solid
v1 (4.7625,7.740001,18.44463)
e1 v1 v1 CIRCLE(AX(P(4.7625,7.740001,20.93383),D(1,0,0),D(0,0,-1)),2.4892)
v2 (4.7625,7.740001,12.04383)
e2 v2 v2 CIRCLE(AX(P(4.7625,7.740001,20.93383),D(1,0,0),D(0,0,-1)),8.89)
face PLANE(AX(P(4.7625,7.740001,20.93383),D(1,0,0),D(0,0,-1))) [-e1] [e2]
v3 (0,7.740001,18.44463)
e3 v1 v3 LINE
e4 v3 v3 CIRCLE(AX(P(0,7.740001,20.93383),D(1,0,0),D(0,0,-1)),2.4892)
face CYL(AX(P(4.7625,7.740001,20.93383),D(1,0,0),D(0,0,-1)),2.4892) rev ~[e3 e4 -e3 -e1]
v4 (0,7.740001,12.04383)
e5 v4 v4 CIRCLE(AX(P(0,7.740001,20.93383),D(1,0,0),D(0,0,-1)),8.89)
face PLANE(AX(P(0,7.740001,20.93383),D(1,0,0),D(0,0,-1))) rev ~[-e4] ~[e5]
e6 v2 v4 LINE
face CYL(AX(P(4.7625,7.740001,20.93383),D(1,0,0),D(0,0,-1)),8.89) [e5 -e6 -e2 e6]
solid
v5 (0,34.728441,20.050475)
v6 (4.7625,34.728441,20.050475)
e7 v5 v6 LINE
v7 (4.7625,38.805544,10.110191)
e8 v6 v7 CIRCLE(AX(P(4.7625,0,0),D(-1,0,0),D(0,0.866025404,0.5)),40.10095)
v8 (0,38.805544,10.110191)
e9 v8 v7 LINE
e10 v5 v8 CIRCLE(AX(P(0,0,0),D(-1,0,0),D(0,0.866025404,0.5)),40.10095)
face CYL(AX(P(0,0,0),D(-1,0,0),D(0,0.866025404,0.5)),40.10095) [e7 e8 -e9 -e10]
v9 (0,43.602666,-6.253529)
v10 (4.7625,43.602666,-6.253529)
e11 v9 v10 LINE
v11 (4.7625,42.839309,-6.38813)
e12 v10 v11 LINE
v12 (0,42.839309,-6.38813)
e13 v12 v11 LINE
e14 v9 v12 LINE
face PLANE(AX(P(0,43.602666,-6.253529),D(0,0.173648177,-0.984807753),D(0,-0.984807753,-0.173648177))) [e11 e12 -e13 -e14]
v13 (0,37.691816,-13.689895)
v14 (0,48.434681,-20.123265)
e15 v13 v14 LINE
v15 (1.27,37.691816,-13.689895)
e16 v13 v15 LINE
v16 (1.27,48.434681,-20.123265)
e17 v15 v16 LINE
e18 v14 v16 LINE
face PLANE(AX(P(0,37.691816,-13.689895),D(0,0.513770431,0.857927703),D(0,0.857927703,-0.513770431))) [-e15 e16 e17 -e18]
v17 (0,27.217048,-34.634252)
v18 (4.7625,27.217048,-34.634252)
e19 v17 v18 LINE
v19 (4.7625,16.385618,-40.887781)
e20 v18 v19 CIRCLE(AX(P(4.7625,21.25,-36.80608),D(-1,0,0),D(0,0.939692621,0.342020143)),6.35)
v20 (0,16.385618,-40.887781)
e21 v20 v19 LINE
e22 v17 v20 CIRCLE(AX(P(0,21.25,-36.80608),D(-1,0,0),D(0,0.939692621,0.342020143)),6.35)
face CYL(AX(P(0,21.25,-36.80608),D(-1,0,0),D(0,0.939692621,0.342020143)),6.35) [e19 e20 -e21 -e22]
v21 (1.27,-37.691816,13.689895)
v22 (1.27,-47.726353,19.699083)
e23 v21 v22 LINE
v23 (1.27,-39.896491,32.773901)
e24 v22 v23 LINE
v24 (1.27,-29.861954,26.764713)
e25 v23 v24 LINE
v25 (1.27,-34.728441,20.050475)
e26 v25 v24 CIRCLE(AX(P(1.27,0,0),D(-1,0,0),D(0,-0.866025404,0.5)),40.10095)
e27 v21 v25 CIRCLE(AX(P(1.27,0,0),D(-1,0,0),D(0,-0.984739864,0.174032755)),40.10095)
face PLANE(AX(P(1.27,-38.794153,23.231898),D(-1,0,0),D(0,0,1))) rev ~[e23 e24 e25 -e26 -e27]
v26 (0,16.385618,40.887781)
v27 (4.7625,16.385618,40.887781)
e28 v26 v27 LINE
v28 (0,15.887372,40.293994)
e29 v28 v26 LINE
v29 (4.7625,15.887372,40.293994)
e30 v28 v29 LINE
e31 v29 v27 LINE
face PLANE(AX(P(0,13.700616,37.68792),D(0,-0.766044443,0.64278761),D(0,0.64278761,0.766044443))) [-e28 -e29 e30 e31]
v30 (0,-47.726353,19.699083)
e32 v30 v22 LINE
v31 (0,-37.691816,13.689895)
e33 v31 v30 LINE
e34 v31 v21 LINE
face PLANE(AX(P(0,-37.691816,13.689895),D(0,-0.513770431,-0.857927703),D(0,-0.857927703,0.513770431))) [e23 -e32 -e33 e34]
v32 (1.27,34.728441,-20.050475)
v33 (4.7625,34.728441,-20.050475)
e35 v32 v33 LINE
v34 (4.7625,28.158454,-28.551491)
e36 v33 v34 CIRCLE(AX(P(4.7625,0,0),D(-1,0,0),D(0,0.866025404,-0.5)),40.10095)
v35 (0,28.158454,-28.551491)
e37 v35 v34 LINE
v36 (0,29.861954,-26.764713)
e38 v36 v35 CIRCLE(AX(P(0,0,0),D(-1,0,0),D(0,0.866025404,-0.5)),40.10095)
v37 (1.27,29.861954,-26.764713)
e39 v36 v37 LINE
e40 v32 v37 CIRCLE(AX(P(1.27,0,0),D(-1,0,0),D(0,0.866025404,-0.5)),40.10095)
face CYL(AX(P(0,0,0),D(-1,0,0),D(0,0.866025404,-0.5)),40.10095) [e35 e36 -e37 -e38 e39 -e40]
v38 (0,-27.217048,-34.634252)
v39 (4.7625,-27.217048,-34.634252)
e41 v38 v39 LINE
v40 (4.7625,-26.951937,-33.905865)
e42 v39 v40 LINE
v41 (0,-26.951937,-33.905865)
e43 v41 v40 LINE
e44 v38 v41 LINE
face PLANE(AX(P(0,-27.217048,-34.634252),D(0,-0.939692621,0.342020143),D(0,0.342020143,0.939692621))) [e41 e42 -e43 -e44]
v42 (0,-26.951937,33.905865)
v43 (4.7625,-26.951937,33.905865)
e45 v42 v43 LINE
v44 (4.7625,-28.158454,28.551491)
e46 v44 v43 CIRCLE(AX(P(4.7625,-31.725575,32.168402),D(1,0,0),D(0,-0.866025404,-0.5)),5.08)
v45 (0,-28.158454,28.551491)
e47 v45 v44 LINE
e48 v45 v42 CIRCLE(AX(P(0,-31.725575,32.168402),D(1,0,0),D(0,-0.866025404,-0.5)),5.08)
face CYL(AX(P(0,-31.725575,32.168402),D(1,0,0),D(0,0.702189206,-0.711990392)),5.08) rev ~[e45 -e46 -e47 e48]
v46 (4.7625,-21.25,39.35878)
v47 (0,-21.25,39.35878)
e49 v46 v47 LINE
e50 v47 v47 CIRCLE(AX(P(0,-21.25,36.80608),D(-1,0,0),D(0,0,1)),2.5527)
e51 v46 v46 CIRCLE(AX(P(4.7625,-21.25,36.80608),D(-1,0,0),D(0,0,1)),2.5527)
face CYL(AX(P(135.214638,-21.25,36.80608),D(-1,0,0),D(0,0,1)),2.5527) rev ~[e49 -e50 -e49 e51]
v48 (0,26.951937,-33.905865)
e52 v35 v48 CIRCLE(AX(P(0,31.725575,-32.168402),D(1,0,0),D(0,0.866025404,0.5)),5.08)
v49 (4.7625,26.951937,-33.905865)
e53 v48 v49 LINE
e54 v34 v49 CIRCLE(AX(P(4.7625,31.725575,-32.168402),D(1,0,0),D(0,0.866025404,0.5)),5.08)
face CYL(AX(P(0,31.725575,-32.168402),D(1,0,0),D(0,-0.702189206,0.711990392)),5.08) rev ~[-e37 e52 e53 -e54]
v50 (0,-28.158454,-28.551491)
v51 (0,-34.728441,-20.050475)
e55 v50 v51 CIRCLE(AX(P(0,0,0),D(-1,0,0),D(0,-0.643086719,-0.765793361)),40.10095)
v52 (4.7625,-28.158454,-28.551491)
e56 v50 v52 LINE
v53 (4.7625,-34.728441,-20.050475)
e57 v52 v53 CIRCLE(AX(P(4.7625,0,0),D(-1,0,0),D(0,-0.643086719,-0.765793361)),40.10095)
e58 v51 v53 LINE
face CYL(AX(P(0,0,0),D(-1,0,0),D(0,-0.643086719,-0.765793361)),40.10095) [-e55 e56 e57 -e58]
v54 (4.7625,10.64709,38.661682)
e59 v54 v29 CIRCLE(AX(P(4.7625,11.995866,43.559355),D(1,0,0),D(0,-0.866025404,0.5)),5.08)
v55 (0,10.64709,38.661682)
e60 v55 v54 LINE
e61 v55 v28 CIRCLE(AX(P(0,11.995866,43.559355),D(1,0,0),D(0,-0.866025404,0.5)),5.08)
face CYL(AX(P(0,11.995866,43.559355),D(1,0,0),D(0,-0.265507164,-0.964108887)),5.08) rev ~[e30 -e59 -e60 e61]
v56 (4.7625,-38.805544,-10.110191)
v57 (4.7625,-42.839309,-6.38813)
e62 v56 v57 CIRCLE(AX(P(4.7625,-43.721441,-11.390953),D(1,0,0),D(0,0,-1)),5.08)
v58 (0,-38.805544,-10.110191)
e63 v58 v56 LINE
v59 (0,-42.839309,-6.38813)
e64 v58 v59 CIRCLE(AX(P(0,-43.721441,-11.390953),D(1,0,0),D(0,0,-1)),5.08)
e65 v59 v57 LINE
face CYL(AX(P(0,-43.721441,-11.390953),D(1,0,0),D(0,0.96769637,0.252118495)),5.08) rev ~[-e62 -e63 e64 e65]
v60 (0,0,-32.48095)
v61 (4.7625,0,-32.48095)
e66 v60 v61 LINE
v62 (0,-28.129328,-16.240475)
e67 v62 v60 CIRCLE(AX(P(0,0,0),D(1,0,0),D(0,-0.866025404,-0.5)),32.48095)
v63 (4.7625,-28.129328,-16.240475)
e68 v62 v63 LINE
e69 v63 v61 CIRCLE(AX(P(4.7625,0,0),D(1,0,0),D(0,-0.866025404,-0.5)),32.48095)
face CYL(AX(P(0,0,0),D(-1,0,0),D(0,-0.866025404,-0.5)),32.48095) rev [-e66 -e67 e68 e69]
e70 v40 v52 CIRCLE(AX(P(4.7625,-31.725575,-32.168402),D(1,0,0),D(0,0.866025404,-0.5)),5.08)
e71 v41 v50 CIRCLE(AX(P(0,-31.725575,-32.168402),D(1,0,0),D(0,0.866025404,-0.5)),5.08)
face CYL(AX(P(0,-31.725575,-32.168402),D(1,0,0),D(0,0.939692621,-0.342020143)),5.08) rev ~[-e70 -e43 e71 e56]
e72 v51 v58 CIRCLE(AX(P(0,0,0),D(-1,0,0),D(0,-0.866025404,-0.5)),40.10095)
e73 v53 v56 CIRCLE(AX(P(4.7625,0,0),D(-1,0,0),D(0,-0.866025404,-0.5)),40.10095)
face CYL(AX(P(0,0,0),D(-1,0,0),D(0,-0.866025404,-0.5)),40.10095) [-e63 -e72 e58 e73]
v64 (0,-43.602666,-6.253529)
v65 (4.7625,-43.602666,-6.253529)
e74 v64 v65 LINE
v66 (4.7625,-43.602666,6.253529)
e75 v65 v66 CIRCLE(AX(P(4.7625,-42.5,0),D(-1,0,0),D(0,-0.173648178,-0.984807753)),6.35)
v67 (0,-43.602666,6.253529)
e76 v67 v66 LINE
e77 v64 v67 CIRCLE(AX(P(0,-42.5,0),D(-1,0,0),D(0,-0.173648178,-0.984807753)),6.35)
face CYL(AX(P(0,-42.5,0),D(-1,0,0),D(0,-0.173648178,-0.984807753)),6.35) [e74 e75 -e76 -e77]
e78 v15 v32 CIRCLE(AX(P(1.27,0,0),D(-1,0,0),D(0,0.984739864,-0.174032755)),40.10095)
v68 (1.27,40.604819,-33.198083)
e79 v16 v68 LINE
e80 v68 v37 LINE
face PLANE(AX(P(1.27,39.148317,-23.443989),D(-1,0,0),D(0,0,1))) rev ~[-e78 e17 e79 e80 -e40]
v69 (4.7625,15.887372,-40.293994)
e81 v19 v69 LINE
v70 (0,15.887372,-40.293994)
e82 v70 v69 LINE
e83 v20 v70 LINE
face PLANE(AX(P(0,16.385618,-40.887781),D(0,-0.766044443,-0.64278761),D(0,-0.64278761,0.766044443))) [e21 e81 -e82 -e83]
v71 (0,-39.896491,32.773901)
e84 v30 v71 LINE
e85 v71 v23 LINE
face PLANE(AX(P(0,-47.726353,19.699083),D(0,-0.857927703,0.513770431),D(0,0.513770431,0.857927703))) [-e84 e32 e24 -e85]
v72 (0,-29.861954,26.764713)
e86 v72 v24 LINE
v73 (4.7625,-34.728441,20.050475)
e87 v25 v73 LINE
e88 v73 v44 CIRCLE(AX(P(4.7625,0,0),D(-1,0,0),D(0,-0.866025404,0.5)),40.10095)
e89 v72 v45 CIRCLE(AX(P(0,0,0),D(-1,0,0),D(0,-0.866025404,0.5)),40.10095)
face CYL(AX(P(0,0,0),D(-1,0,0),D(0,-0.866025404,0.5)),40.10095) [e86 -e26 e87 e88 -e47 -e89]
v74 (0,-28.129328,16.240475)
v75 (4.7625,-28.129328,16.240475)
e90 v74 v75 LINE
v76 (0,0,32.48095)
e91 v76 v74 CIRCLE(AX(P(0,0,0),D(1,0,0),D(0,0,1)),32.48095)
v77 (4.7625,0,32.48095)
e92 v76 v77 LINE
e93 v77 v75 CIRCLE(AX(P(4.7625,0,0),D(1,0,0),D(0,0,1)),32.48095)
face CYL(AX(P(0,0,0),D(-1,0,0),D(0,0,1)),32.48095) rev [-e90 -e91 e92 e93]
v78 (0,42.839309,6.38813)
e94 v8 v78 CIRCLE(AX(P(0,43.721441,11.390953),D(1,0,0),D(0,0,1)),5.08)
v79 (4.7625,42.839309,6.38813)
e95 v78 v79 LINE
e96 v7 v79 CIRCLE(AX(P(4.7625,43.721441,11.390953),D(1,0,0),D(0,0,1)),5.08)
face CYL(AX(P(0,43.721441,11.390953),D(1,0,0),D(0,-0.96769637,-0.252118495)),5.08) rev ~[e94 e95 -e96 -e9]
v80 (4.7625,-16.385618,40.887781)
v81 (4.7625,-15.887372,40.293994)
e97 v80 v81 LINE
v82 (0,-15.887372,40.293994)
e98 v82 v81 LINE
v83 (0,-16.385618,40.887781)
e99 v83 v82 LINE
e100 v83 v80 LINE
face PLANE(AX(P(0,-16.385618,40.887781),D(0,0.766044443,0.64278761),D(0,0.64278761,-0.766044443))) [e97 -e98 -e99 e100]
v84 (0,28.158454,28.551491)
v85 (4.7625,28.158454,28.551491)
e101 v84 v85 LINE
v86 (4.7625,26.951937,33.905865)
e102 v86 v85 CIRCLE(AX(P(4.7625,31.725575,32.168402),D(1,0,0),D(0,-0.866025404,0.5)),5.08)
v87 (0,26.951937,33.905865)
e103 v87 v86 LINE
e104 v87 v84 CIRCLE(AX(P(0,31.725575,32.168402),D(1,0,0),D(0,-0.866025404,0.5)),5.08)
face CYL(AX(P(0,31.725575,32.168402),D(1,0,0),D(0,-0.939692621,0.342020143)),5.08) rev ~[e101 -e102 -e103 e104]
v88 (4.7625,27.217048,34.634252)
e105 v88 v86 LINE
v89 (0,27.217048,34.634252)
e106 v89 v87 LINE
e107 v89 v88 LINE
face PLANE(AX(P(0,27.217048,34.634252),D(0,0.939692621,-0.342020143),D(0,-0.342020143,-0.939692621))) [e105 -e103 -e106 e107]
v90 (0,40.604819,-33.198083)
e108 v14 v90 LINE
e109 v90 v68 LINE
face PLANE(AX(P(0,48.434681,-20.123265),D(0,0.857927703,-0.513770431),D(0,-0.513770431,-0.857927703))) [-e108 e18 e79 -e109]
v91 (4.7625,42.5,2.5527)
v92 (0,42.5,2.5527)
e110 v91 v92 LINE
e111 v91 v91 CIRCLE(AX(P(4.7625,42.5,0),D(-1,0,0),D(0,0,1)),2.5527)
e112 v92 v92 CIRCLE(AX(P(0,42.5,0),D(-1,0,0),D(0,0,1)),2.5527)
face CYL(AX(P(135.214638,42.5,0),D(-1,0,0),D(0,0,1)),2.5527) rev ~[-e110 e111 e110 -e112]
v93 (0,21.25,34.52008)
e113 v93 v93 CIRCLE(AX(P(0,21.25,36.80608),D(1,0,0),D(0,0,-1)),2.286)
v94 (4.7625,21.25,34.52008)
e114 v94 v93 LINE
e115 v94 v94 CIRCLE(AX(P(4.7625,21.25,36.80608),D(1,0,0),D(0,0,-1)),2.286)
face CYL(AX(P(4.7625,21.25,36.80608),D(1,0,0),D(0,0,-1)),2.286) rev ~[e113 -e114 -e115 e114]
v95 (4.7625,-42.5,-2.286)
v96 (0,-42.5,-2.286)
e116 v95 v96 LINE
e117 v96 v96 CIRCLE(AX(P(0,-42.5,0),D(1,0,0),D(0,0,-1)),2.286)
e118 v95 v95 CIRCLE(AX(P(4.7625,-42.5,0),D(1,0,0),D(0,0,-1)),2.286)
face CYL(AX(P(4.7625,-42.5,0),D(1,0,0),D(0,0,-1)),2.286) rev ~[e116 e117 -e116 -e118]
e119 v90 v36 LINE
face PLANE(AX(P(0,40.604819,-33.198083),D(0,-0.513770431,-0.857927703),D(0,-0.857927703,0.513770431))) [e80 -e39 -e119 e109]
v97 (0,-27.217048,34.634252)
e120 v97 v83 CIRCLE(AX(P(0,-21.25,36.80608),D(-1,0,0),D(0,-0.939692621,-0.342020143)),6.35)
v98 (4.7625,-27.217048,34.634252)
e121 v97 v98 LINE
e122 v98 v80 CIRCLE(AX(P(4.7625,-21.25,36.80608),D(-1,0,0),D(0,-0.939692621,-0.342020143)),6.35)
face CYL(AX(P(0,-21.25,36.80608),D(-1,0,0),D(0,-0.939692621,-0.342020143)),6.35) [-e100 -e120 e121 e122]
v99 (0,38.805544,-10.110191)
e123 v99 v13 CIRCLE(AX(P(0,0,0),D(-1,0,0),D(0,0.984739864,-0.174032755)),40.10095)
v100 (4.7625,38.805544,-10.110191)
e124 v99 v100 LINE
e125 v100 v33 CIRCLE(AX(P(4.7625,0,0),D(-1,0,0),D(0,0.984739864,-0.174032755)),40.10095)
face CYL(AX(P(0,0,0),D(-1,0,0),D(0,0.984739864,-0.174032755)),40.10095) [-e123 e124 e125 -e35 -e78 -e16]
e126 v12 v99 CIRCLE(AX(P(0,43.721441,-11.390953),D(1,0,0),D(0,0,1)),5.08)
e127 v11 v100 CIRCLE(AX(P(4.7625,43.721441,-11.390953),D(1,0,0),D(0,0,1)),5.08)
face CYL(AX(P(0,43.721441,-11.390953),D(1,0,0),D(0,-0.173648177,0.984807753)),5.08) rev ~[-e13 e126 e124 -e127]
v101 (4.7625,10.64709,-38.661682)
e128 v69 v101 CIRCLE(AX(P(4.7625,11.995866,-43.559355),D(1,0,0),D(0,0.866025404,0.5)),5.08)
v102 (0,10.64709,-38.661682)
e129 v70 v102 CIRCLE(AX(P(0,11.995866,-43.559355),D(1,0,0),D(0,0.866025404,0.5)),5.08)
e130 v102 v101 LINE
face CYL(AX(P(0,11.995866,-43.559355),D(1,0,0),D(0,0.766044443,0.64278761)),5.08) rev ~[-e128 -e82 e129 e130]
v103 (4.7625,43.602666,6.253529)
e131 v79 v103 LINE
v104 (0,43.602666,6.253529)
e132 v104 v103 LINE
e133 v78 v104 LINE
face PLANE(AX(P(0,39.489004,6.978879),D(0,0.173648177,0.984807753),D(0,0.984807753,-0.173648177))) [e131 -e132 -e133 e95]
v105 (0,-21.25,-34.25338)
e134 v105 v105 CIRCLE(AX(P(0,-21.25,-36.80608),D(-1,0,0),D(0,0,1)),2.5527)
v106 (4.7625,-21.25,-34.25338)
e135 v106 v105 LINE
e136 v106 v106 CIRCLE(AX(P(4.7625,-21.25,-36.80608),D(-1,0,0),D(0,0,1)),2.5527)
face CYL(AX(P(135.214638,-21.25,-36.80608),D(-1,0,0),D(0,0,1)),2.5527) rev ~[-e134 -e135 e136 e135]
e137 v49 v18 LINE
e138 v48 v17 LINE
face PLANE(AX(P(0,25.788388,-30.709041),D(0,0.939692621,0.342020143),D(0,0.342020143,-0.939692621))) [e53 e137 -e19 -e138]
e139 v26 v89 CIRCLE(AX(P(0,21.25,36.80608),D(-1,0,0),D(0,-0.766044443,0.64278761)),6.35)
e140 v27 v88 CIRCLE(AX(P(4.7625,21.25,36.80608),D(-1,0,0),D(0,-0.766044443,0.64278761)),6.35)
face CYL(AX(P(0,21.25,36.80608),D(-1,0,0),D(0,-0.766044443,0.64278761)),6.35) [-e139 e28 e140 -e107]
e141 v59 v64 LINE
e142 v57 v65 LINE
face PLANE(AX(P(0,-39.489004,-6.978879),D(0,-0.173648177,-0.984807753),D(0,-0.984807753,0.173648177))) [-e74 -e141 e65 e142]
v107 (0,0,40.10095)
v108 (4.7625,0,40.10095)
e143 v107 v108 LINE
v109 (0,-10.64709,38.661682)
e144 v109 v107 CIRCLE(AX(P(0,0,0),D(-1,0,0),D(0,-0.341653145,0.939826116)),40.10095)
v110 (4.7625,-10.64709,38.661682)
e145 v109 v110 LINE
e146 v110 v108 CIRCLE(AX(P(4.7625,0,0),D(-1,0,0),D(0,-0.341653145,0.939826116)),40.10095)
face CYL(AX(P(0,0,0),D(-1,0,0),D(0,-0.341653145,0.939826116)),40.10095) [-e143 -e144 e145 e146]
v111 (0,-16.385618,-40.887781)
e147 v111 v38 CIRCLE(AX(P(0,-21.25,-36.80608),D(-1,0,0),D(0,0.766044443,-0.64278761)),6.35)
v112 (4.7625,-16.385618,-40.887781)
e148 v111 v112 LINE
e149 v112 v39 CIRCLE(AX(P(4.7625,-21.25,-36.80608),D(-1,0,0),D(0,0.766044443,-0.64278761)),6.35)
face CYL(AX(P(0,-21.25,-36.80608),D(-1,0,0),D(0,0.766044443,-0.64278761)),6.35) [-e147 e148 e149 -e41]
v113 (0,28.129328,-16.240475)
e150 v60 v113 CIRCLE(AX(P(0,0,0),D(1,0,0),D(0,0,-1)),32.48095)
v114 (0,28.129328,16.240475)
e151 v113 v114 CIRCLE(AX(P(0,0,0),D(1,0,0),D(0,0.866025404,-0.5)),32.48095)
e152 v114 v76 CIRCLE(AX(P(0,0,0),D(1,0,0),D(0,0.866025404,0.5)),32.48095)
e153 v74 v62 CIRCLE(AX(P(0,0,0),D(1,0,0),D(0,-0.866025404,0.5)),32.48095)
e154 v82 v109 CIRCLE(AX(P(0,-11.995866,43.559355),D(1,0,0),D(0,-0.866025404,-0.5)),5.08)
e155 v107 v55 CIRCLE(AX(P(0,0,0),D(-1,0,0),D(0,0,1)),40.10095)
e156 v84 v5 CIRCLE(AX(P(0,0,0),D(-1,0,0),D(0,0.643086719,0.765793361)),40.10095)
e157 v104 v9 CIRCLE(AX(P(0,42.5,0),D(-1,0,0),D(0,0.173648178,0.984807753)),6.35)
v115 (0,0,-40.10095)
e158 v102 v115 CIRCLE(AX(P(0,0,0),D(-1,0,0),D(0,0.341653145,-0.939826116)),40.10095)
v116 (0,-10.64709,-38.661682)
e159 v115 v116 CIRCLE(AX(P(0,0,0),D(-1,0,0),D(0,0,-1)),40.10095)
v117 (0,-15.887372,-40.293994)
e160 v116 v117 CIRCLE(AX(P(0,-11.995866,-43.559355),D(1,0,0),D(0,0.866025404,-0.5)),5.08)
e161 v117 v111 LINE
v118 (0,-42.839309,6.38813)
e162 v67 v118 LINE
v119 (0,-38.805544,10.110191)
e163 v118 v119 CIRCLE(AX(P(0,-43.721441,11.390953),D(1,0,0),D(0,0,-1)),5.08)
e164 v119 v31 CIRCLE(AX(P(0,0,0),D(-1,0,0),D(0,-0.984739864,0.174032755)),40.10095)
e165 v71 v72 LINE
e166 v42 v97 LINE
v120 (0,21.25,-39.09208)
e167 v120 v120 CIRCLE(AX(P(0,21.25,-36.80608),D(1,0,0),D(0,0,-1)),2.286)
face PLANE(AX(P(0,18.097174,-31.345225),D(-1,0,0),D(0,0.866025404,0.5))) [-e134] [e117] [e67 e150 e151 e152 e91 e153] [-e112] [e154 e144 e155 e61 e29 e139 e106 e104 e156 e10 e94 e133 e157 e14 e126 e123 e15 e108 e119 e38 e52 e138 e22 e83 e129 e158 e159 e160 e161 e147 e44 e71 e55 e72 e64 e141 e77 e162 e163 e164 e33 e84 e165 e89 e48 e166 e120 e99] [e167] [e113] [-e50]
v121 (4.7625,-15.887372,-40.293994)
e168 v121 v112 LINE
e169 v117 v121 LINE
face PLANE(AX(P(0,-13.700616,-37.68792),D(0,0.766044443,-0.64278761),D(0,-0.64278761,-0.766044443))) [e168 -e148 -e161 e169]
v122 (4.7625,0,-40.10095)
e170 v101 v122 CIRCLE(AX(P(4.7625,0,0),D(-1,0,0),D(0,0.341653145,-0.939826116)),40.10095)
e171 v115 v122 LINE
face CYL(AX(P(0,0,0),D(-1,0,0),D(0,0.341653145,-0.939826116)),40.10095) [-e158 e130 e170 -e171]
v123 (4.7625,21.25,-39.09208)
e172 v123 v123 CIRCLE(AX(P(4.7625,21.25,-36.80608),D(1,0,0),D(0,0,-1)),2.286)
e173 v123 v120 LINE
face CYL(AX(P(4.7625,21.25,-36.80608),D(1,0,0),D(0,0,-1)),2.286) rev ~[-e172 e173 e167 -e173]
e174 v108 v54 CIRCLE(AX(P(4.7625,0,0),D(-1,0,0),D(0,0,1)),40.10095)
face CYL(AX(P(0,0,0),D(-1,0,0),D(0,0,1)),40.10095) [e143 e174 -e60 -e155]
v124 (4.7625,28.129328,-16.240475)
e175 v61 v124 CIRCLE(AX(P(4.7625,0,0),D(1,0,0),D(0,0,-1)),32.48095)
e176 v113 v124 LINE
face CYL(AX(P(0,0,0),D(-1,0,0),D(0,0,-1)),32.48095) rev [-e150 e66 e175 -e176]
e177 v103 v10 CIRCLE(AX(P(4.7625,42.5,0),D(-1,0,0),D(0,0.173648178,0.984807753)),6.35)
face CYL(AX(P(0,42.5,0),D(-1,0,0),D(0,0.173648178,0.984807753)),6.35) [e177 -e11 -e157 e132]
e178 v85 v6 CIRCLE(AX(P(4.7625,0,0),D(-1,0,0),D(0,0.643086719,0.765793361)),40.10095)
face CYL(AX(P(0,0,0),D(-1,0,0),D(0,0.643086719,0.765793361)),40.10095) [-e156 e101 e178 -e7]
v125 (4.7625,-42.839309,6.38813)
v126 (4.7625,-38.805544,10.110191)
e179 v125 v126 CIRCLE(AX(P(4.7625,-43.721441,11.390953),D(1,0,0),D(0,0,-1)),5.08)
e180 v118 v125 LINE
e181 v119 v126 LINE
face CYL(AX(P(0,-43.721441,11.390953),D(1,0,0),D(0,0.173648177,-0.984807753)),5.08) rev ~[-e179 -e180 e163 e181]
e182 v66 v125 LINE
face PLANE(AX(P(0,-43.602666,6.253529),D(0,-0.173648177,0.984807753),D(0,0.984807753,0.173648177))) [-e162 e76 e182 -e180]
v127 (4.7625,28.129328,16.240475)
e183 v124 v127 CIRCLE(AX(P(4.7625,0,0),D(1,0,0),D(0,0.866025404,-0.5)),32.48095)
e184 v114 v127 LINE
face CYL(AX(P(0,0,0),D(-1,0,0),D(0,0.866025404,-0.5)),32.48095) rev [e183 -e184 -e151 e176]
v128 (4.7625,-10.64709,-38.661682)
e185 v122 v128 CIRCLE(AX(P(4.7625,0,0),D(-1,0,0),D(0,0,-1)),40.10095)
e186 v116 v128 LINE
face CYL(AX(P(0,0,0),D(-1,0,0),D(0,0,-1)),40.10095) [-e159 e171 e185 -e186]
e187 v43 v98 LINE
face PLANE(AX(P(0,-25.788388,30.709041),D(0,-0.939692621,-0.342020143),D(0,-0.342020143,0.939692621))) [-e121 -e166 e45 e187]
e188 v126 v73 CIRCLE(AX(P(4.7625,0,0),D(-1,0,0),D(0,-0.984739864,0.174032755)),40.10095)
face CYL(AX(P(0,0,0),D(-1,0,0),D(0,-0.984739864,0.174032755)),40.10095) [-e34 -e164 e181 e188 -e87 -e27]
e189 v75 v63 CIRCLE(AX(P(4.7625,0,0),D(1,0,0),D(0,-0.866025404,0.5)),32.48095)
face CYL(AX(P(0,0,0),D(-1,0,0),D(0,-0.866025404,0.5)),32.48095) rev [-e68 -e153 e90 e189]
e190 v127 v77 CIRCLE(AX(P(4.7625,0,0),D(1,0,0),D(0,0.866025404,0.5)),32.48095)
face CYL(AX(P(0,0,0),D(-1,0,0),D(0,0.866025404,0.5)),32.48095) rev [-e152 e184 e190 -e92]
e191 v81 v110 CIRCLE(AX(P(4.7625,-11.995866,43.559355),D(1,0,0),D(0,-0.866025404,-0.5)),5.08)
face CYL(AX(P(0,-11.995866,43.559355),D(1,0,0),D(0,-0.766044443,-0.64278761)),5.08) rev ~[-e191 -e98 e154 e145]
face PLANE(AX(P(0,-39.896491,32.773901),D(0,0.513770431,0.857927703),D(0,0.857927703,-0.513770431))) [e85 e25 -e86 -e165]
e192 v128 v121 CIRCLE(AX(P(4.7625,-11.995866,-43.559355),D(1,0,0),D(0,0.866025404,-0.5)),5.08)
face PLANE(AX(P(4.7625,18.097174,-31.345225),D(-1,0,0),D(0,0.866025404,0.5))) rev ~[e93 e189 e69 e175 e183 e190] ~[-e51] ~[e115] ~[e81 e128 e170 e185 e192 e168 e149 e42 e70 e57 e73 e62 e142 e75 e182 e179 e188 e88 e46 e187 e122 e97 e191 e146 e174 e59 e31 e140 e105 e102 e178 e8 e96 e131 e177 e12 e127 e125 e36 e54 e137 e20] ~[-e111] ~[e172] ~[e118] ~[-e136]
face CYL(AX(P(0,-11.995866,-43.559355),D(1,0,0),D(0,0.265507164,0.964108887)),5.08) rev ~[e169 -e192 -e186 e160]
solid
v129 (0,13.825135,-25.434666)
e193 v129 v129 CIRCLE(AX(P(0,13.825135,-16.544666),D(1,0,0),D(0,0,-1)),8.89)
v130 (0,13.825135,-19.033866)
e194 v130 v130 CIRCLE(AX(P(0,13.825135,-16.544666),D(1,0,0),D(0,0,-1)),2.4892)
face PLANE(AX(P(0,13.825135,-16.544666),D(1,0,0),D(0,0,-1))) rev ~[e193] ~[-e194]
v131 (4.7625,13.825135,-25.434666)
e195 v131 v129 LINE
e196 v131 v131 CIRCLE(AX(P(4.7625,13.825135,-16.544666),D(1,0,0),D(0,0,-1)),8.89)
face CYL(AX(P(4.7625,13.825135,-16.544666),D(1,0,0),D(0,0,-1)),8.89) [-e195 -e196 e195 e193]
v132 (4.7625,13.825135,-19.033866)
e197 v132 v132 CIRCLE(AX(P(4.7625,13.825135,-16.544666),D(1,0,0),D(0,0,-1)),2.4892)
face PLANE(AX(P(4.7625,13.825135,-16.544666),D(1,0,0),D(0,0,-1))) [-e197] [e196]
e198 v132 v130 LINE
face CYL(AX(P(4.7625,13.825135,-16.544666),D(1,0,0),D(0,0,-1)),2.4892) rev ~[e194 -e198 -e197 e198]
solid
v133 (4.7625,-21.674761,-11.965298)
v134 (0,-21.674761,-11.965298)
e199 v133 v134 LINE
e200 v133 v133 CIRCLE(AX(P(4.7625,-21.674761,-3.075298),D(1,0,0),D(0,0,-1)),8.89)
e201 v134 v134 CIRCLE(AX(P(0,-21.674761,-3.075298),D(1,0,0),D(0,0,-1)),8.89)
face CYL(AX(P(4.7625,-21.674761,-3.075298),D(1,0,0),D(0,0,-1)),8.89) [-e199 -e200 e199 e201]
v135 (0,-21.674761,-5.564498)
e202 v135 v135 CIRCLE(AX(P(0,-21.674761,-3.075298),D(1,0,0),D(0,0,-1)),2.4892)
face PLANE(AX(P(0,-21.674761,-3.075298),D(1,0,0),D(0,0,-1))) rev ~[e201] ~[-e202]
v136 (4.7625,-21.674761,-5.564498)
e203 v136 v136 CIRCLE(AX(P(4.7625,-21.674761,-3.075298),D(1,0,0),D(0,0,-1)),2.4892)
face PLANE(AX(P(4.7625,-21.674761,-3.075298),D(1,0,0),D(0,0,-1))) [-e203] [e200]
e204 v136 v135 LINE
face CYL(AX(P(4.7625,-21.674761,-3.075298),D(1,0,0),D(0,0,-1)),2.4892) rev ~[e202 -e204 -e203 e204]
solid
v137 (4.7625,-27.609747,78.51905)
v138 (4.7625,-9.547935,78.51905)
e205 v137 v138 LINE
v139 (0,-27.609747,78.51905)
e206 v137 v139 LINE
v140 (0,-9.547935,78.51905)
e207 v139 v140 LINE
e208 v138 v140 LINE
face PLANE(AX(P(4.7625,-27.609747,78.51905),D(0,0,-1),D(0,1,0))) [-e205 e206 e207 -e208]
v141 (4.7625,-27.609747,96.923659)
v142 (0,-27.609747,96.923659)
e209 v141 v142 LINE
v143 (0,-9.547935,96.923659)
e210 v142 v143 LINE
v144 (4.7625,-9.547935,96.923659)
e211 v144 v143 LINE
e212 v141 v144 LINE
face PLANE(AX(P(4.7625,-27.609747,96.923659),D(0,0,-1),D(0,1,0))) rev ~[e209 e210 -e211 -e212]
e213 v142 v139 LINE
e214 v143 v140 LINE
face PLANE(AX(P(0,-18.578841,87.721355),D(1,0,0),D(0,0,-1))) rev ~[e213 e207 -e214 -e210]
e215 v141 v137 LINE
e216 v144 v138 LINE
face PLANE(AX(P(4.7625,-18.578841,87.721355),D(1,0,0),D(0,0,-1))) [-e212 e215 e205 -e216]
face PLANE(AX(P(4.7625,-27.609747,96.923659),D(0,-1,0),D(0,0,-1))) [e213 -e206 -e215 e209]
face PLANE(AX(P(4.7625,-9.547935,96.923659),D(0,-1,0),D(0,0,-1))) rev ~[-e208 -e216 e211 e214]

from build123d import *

# Parameters (mm, degrees)
BOSS_EXTRUDE1_DEPTH    = 4.7625
FILLET1_R              = 5.08
CIRPATTERN2_COUNT      = 6
F_10_CLEARANCE_HOLE1_D = 5.1054
SKETCH4_R              = 2.286
CUT_EXTRUDE1_DEPTH     = 66.356339539
SKETCH5_R              = 8.89
SKETCH5_R_2            = 2.4892
BOSS_EXTRUDE2_DEPTH    = 4.7625
BOSS_EXTRUDE2_2_DEPTH  = 4.7625
BOSS_EXTRUDE2_3_DEPTH  = 4.7625
SKETCH5_W              = 18.404609089
SKETCH5_H              = 18.061812119
BOSS_EXTRUDE2_4_DEPTH  = 4.7625
BOSS_EXTRUDE3_DEPTH    = 1.27


with BuildPart() as part:
    # Sketch1 → Boss-Extrude1 (new body)
    with BuildSketch(Plane(origin=(0, 0, 0), x_dir=(0, 0, -1), z_dir=(1, 0, 0))):
        with BuildLine():
            Line((6.253529232, 43.602665928), (6.978878804, 39.489004083))
            ThreePointArc((6.978878804, 39.489004083), (13.722690374, 37.679888027), (20.050475012, 34.728441437))
            Line((20.050475012, 34.728441437), (16.240475012, 28.12932786))
            ThreePointArc((16.240475012, 28.12932786), (0, 32.480950024), (-16.240475012, 28.12932786))
            Line((-16.240475012, 28.12932786), (-20.050475012, 34.728441437))
            ThreePointArc((-20.050475012, 34.728441437), (-13.722690374, 37.679888027), (-6.978878804, 39.489004083))
            Line((-6.978878804, 39.489004083), (-6.253529232, 43.602665928))
            ThreePointArc((-6.253529232, 43.602665928), (0, 48.85), (6.253529232, 43.602665928))
        make_face()
    extrude(amount=BOSS_EXTRUDE1_DEPTH)

    # Fillet1
    fillet1_edges = [part.edges().sort_by_distance(p)[0] for p in [
        (2.38125, 39.489004083, -6.978878804),
        (2.38125, 39.489004083, 6.978878804),
    ]]
    fillet(fillet1_edges, radius=FILLET1_R)


with BuildPart() as cirpattern2_1:
    # CirPattern2: pattern copy
    add(part.part.rotate(Axis((0, 0, 0), (1, 0, 0)), 1 * 360 / CIRPATTERN2_COUNT))


with BuildPart() as cirpattern2_2:
    # CirPattern2: pattern copy
    add(part.part.rotate(Axis((0, 0, 0), (1, 0, 0)), 2 * 360 / CIRPATTERN2_COUNT))


with BuildPart() as cirpattern2_3:
    # CirPattern2: pattern copy
    add(part.part.rotate(Axis((0, 0, 0), (1, 0, 0)), 3 * 360 / CIRPATTERN2_COUNT))


with BuildPart() as cirpattern2_4:
    # CirPattern2: pattern copy
    add(part.part.rotate(Axis((0, 0, 0), (1, 0, 0)), 4 * 360 / CIRPATTERN2_COUNT))


with BuildPart() as cirpattern2_5:
    # CirPattern2: pattern copy
    add(part.part.rotate(Axis((0, 0, 0), (1, 0, 0)), 5 * 360 / CIRPATTERN2_COUNT))


with BuildPart() as part_1:
    add(part.part)

    # Combine1: union CirPattern2_1, CirPattern2_2, CirPattern2_3, CirPattern2_4, CirPattern2_5
    add(cirpattern2_1.part)
    add(cirpattern2_2.part)
    add(cirpattern2_3.part)
    add(cirpattern2_4.part)
    add(cirpattern2_5.part)

    # #10 Clearance Hole1 (through all)
    with Locations(Plane(origin=(4.7625, 0, 0), x_dir=(0, 0, -1), z_dir=(1, 0, 0))):
        with Locations((0, 42.5), (36.806079661, -21.25), (-36.806079661, -21.25)):
            Hole(F_10_CLEARANCE_HOLE1_D / 2)

    # Sketch4 → Cut-Extrude1 (cut, through all)
    with BuildSketch(Plane(origin=(4.7625, 0, 0), x_dir=(0, 0, -1), z_dir=(1, 0, 0))):
        with Locations((-36.806079661, 21.25)):
            Circle(SKETCH4_R)
        with Locations((36.806079661, 21.25)):
            Circle(SKETCH4_R)
        with Locations((0, -42.5)):
            Circle(SKETCH4_R)
    extrude(amount=-CUT_EXTRUDE1_DEPTH, mode=Mode.SUBTRACT)

    # Sketch6 → Boss-Extrude3 (add)
    with BuildSketch(Plane.ZY):
        Polygon((26.764713398, -29.861954215), (13.689895201, -37.691815587), (19.699082643, -47.726352546), (32.773900841, -39.896491175), align=None)
        Polygon((-26.764713398, 29.861954215), (-13.689895201, 37.691815587), (-20.123265238, 48.434680579), (-33.198083435, 40.604819208), align=None)
    extrude(amount=-BOSS_EXTRUDE3_DEPTH)


with BuildPart() as body_2:
    # Sketch5 → Boss-Extrude2 (new body)
    with BuildSketch(Plane(origin=(4.7625, 0, 0), x_dir=(0, 0, -1), z_dir=(1, 0, 0))):
        with Locations((-20.93383019, 7.740001125)):
            Circle(SKETCH5_R)
        with Locations((-20.93383019, 7.740001125)):
            Circle(SKETCH5_R_2, mode=Mode.SUBTRACT)
    extrude(amount=-BOSS_EXTRUDE2_DEPTH)


with BuildPart() as body_3:
    # Sketch5 → Boss-Extrude2 2 (new body)
    with BuildSketch(Plane(origin=(4.7625, 0, 0), x_dir=(0, 0, -1), z_dir=(1, 0, 0))):
        with Locations((3.07529833, -21.674761439)):
            Circle(SKETCH5_R)
        with Locations((3.07529833, -21.674761439)):
            Circle(SKETCH5_R_2, mode=Mode.SUBTRACT)
    extrude(amount=-BOSS_EXTRUDE2_2_DEPTH)


with BuildPart() as body_4:
    # Sketch5 → Boss-Extrude2 3 (new body)
    with BuildSketch(Plane(origin=(4.7625, 0, 0), x_dir=(0, 0, -1), z_dir=(1, 0, 0))):
        with Locations((16.544665697, 13.825135064)):
            Circle(SKETCH5_R)
        with Locations((16.544665697, 13.825135064)):
            Circle(SKETCH5_R_2, mode=Mode.SUBTRACT)
    extrude(amount=-BOSS_EXTRUDE2_3_DEPTH)


with BuildPart() as body_5:
    # Sketch5 → Boss-Extrude2 4 (new body)
    with BuildSketch(Plane(origin=(4.7625, 0, 0), x_dir=(0, 0, -1), z_dir=(1, 0, 0))):
        with Locations((-87.72135464, -18.578840948)):
            Rectangle(SKETCH5_W, SKETCH5_H)
    extrude(amount=-BOSS_EXTRUDE2_4_DEPTH)


solid = Compound([part_1.part, body_2.part, body_3.part, body_4.part, body_5.part])
